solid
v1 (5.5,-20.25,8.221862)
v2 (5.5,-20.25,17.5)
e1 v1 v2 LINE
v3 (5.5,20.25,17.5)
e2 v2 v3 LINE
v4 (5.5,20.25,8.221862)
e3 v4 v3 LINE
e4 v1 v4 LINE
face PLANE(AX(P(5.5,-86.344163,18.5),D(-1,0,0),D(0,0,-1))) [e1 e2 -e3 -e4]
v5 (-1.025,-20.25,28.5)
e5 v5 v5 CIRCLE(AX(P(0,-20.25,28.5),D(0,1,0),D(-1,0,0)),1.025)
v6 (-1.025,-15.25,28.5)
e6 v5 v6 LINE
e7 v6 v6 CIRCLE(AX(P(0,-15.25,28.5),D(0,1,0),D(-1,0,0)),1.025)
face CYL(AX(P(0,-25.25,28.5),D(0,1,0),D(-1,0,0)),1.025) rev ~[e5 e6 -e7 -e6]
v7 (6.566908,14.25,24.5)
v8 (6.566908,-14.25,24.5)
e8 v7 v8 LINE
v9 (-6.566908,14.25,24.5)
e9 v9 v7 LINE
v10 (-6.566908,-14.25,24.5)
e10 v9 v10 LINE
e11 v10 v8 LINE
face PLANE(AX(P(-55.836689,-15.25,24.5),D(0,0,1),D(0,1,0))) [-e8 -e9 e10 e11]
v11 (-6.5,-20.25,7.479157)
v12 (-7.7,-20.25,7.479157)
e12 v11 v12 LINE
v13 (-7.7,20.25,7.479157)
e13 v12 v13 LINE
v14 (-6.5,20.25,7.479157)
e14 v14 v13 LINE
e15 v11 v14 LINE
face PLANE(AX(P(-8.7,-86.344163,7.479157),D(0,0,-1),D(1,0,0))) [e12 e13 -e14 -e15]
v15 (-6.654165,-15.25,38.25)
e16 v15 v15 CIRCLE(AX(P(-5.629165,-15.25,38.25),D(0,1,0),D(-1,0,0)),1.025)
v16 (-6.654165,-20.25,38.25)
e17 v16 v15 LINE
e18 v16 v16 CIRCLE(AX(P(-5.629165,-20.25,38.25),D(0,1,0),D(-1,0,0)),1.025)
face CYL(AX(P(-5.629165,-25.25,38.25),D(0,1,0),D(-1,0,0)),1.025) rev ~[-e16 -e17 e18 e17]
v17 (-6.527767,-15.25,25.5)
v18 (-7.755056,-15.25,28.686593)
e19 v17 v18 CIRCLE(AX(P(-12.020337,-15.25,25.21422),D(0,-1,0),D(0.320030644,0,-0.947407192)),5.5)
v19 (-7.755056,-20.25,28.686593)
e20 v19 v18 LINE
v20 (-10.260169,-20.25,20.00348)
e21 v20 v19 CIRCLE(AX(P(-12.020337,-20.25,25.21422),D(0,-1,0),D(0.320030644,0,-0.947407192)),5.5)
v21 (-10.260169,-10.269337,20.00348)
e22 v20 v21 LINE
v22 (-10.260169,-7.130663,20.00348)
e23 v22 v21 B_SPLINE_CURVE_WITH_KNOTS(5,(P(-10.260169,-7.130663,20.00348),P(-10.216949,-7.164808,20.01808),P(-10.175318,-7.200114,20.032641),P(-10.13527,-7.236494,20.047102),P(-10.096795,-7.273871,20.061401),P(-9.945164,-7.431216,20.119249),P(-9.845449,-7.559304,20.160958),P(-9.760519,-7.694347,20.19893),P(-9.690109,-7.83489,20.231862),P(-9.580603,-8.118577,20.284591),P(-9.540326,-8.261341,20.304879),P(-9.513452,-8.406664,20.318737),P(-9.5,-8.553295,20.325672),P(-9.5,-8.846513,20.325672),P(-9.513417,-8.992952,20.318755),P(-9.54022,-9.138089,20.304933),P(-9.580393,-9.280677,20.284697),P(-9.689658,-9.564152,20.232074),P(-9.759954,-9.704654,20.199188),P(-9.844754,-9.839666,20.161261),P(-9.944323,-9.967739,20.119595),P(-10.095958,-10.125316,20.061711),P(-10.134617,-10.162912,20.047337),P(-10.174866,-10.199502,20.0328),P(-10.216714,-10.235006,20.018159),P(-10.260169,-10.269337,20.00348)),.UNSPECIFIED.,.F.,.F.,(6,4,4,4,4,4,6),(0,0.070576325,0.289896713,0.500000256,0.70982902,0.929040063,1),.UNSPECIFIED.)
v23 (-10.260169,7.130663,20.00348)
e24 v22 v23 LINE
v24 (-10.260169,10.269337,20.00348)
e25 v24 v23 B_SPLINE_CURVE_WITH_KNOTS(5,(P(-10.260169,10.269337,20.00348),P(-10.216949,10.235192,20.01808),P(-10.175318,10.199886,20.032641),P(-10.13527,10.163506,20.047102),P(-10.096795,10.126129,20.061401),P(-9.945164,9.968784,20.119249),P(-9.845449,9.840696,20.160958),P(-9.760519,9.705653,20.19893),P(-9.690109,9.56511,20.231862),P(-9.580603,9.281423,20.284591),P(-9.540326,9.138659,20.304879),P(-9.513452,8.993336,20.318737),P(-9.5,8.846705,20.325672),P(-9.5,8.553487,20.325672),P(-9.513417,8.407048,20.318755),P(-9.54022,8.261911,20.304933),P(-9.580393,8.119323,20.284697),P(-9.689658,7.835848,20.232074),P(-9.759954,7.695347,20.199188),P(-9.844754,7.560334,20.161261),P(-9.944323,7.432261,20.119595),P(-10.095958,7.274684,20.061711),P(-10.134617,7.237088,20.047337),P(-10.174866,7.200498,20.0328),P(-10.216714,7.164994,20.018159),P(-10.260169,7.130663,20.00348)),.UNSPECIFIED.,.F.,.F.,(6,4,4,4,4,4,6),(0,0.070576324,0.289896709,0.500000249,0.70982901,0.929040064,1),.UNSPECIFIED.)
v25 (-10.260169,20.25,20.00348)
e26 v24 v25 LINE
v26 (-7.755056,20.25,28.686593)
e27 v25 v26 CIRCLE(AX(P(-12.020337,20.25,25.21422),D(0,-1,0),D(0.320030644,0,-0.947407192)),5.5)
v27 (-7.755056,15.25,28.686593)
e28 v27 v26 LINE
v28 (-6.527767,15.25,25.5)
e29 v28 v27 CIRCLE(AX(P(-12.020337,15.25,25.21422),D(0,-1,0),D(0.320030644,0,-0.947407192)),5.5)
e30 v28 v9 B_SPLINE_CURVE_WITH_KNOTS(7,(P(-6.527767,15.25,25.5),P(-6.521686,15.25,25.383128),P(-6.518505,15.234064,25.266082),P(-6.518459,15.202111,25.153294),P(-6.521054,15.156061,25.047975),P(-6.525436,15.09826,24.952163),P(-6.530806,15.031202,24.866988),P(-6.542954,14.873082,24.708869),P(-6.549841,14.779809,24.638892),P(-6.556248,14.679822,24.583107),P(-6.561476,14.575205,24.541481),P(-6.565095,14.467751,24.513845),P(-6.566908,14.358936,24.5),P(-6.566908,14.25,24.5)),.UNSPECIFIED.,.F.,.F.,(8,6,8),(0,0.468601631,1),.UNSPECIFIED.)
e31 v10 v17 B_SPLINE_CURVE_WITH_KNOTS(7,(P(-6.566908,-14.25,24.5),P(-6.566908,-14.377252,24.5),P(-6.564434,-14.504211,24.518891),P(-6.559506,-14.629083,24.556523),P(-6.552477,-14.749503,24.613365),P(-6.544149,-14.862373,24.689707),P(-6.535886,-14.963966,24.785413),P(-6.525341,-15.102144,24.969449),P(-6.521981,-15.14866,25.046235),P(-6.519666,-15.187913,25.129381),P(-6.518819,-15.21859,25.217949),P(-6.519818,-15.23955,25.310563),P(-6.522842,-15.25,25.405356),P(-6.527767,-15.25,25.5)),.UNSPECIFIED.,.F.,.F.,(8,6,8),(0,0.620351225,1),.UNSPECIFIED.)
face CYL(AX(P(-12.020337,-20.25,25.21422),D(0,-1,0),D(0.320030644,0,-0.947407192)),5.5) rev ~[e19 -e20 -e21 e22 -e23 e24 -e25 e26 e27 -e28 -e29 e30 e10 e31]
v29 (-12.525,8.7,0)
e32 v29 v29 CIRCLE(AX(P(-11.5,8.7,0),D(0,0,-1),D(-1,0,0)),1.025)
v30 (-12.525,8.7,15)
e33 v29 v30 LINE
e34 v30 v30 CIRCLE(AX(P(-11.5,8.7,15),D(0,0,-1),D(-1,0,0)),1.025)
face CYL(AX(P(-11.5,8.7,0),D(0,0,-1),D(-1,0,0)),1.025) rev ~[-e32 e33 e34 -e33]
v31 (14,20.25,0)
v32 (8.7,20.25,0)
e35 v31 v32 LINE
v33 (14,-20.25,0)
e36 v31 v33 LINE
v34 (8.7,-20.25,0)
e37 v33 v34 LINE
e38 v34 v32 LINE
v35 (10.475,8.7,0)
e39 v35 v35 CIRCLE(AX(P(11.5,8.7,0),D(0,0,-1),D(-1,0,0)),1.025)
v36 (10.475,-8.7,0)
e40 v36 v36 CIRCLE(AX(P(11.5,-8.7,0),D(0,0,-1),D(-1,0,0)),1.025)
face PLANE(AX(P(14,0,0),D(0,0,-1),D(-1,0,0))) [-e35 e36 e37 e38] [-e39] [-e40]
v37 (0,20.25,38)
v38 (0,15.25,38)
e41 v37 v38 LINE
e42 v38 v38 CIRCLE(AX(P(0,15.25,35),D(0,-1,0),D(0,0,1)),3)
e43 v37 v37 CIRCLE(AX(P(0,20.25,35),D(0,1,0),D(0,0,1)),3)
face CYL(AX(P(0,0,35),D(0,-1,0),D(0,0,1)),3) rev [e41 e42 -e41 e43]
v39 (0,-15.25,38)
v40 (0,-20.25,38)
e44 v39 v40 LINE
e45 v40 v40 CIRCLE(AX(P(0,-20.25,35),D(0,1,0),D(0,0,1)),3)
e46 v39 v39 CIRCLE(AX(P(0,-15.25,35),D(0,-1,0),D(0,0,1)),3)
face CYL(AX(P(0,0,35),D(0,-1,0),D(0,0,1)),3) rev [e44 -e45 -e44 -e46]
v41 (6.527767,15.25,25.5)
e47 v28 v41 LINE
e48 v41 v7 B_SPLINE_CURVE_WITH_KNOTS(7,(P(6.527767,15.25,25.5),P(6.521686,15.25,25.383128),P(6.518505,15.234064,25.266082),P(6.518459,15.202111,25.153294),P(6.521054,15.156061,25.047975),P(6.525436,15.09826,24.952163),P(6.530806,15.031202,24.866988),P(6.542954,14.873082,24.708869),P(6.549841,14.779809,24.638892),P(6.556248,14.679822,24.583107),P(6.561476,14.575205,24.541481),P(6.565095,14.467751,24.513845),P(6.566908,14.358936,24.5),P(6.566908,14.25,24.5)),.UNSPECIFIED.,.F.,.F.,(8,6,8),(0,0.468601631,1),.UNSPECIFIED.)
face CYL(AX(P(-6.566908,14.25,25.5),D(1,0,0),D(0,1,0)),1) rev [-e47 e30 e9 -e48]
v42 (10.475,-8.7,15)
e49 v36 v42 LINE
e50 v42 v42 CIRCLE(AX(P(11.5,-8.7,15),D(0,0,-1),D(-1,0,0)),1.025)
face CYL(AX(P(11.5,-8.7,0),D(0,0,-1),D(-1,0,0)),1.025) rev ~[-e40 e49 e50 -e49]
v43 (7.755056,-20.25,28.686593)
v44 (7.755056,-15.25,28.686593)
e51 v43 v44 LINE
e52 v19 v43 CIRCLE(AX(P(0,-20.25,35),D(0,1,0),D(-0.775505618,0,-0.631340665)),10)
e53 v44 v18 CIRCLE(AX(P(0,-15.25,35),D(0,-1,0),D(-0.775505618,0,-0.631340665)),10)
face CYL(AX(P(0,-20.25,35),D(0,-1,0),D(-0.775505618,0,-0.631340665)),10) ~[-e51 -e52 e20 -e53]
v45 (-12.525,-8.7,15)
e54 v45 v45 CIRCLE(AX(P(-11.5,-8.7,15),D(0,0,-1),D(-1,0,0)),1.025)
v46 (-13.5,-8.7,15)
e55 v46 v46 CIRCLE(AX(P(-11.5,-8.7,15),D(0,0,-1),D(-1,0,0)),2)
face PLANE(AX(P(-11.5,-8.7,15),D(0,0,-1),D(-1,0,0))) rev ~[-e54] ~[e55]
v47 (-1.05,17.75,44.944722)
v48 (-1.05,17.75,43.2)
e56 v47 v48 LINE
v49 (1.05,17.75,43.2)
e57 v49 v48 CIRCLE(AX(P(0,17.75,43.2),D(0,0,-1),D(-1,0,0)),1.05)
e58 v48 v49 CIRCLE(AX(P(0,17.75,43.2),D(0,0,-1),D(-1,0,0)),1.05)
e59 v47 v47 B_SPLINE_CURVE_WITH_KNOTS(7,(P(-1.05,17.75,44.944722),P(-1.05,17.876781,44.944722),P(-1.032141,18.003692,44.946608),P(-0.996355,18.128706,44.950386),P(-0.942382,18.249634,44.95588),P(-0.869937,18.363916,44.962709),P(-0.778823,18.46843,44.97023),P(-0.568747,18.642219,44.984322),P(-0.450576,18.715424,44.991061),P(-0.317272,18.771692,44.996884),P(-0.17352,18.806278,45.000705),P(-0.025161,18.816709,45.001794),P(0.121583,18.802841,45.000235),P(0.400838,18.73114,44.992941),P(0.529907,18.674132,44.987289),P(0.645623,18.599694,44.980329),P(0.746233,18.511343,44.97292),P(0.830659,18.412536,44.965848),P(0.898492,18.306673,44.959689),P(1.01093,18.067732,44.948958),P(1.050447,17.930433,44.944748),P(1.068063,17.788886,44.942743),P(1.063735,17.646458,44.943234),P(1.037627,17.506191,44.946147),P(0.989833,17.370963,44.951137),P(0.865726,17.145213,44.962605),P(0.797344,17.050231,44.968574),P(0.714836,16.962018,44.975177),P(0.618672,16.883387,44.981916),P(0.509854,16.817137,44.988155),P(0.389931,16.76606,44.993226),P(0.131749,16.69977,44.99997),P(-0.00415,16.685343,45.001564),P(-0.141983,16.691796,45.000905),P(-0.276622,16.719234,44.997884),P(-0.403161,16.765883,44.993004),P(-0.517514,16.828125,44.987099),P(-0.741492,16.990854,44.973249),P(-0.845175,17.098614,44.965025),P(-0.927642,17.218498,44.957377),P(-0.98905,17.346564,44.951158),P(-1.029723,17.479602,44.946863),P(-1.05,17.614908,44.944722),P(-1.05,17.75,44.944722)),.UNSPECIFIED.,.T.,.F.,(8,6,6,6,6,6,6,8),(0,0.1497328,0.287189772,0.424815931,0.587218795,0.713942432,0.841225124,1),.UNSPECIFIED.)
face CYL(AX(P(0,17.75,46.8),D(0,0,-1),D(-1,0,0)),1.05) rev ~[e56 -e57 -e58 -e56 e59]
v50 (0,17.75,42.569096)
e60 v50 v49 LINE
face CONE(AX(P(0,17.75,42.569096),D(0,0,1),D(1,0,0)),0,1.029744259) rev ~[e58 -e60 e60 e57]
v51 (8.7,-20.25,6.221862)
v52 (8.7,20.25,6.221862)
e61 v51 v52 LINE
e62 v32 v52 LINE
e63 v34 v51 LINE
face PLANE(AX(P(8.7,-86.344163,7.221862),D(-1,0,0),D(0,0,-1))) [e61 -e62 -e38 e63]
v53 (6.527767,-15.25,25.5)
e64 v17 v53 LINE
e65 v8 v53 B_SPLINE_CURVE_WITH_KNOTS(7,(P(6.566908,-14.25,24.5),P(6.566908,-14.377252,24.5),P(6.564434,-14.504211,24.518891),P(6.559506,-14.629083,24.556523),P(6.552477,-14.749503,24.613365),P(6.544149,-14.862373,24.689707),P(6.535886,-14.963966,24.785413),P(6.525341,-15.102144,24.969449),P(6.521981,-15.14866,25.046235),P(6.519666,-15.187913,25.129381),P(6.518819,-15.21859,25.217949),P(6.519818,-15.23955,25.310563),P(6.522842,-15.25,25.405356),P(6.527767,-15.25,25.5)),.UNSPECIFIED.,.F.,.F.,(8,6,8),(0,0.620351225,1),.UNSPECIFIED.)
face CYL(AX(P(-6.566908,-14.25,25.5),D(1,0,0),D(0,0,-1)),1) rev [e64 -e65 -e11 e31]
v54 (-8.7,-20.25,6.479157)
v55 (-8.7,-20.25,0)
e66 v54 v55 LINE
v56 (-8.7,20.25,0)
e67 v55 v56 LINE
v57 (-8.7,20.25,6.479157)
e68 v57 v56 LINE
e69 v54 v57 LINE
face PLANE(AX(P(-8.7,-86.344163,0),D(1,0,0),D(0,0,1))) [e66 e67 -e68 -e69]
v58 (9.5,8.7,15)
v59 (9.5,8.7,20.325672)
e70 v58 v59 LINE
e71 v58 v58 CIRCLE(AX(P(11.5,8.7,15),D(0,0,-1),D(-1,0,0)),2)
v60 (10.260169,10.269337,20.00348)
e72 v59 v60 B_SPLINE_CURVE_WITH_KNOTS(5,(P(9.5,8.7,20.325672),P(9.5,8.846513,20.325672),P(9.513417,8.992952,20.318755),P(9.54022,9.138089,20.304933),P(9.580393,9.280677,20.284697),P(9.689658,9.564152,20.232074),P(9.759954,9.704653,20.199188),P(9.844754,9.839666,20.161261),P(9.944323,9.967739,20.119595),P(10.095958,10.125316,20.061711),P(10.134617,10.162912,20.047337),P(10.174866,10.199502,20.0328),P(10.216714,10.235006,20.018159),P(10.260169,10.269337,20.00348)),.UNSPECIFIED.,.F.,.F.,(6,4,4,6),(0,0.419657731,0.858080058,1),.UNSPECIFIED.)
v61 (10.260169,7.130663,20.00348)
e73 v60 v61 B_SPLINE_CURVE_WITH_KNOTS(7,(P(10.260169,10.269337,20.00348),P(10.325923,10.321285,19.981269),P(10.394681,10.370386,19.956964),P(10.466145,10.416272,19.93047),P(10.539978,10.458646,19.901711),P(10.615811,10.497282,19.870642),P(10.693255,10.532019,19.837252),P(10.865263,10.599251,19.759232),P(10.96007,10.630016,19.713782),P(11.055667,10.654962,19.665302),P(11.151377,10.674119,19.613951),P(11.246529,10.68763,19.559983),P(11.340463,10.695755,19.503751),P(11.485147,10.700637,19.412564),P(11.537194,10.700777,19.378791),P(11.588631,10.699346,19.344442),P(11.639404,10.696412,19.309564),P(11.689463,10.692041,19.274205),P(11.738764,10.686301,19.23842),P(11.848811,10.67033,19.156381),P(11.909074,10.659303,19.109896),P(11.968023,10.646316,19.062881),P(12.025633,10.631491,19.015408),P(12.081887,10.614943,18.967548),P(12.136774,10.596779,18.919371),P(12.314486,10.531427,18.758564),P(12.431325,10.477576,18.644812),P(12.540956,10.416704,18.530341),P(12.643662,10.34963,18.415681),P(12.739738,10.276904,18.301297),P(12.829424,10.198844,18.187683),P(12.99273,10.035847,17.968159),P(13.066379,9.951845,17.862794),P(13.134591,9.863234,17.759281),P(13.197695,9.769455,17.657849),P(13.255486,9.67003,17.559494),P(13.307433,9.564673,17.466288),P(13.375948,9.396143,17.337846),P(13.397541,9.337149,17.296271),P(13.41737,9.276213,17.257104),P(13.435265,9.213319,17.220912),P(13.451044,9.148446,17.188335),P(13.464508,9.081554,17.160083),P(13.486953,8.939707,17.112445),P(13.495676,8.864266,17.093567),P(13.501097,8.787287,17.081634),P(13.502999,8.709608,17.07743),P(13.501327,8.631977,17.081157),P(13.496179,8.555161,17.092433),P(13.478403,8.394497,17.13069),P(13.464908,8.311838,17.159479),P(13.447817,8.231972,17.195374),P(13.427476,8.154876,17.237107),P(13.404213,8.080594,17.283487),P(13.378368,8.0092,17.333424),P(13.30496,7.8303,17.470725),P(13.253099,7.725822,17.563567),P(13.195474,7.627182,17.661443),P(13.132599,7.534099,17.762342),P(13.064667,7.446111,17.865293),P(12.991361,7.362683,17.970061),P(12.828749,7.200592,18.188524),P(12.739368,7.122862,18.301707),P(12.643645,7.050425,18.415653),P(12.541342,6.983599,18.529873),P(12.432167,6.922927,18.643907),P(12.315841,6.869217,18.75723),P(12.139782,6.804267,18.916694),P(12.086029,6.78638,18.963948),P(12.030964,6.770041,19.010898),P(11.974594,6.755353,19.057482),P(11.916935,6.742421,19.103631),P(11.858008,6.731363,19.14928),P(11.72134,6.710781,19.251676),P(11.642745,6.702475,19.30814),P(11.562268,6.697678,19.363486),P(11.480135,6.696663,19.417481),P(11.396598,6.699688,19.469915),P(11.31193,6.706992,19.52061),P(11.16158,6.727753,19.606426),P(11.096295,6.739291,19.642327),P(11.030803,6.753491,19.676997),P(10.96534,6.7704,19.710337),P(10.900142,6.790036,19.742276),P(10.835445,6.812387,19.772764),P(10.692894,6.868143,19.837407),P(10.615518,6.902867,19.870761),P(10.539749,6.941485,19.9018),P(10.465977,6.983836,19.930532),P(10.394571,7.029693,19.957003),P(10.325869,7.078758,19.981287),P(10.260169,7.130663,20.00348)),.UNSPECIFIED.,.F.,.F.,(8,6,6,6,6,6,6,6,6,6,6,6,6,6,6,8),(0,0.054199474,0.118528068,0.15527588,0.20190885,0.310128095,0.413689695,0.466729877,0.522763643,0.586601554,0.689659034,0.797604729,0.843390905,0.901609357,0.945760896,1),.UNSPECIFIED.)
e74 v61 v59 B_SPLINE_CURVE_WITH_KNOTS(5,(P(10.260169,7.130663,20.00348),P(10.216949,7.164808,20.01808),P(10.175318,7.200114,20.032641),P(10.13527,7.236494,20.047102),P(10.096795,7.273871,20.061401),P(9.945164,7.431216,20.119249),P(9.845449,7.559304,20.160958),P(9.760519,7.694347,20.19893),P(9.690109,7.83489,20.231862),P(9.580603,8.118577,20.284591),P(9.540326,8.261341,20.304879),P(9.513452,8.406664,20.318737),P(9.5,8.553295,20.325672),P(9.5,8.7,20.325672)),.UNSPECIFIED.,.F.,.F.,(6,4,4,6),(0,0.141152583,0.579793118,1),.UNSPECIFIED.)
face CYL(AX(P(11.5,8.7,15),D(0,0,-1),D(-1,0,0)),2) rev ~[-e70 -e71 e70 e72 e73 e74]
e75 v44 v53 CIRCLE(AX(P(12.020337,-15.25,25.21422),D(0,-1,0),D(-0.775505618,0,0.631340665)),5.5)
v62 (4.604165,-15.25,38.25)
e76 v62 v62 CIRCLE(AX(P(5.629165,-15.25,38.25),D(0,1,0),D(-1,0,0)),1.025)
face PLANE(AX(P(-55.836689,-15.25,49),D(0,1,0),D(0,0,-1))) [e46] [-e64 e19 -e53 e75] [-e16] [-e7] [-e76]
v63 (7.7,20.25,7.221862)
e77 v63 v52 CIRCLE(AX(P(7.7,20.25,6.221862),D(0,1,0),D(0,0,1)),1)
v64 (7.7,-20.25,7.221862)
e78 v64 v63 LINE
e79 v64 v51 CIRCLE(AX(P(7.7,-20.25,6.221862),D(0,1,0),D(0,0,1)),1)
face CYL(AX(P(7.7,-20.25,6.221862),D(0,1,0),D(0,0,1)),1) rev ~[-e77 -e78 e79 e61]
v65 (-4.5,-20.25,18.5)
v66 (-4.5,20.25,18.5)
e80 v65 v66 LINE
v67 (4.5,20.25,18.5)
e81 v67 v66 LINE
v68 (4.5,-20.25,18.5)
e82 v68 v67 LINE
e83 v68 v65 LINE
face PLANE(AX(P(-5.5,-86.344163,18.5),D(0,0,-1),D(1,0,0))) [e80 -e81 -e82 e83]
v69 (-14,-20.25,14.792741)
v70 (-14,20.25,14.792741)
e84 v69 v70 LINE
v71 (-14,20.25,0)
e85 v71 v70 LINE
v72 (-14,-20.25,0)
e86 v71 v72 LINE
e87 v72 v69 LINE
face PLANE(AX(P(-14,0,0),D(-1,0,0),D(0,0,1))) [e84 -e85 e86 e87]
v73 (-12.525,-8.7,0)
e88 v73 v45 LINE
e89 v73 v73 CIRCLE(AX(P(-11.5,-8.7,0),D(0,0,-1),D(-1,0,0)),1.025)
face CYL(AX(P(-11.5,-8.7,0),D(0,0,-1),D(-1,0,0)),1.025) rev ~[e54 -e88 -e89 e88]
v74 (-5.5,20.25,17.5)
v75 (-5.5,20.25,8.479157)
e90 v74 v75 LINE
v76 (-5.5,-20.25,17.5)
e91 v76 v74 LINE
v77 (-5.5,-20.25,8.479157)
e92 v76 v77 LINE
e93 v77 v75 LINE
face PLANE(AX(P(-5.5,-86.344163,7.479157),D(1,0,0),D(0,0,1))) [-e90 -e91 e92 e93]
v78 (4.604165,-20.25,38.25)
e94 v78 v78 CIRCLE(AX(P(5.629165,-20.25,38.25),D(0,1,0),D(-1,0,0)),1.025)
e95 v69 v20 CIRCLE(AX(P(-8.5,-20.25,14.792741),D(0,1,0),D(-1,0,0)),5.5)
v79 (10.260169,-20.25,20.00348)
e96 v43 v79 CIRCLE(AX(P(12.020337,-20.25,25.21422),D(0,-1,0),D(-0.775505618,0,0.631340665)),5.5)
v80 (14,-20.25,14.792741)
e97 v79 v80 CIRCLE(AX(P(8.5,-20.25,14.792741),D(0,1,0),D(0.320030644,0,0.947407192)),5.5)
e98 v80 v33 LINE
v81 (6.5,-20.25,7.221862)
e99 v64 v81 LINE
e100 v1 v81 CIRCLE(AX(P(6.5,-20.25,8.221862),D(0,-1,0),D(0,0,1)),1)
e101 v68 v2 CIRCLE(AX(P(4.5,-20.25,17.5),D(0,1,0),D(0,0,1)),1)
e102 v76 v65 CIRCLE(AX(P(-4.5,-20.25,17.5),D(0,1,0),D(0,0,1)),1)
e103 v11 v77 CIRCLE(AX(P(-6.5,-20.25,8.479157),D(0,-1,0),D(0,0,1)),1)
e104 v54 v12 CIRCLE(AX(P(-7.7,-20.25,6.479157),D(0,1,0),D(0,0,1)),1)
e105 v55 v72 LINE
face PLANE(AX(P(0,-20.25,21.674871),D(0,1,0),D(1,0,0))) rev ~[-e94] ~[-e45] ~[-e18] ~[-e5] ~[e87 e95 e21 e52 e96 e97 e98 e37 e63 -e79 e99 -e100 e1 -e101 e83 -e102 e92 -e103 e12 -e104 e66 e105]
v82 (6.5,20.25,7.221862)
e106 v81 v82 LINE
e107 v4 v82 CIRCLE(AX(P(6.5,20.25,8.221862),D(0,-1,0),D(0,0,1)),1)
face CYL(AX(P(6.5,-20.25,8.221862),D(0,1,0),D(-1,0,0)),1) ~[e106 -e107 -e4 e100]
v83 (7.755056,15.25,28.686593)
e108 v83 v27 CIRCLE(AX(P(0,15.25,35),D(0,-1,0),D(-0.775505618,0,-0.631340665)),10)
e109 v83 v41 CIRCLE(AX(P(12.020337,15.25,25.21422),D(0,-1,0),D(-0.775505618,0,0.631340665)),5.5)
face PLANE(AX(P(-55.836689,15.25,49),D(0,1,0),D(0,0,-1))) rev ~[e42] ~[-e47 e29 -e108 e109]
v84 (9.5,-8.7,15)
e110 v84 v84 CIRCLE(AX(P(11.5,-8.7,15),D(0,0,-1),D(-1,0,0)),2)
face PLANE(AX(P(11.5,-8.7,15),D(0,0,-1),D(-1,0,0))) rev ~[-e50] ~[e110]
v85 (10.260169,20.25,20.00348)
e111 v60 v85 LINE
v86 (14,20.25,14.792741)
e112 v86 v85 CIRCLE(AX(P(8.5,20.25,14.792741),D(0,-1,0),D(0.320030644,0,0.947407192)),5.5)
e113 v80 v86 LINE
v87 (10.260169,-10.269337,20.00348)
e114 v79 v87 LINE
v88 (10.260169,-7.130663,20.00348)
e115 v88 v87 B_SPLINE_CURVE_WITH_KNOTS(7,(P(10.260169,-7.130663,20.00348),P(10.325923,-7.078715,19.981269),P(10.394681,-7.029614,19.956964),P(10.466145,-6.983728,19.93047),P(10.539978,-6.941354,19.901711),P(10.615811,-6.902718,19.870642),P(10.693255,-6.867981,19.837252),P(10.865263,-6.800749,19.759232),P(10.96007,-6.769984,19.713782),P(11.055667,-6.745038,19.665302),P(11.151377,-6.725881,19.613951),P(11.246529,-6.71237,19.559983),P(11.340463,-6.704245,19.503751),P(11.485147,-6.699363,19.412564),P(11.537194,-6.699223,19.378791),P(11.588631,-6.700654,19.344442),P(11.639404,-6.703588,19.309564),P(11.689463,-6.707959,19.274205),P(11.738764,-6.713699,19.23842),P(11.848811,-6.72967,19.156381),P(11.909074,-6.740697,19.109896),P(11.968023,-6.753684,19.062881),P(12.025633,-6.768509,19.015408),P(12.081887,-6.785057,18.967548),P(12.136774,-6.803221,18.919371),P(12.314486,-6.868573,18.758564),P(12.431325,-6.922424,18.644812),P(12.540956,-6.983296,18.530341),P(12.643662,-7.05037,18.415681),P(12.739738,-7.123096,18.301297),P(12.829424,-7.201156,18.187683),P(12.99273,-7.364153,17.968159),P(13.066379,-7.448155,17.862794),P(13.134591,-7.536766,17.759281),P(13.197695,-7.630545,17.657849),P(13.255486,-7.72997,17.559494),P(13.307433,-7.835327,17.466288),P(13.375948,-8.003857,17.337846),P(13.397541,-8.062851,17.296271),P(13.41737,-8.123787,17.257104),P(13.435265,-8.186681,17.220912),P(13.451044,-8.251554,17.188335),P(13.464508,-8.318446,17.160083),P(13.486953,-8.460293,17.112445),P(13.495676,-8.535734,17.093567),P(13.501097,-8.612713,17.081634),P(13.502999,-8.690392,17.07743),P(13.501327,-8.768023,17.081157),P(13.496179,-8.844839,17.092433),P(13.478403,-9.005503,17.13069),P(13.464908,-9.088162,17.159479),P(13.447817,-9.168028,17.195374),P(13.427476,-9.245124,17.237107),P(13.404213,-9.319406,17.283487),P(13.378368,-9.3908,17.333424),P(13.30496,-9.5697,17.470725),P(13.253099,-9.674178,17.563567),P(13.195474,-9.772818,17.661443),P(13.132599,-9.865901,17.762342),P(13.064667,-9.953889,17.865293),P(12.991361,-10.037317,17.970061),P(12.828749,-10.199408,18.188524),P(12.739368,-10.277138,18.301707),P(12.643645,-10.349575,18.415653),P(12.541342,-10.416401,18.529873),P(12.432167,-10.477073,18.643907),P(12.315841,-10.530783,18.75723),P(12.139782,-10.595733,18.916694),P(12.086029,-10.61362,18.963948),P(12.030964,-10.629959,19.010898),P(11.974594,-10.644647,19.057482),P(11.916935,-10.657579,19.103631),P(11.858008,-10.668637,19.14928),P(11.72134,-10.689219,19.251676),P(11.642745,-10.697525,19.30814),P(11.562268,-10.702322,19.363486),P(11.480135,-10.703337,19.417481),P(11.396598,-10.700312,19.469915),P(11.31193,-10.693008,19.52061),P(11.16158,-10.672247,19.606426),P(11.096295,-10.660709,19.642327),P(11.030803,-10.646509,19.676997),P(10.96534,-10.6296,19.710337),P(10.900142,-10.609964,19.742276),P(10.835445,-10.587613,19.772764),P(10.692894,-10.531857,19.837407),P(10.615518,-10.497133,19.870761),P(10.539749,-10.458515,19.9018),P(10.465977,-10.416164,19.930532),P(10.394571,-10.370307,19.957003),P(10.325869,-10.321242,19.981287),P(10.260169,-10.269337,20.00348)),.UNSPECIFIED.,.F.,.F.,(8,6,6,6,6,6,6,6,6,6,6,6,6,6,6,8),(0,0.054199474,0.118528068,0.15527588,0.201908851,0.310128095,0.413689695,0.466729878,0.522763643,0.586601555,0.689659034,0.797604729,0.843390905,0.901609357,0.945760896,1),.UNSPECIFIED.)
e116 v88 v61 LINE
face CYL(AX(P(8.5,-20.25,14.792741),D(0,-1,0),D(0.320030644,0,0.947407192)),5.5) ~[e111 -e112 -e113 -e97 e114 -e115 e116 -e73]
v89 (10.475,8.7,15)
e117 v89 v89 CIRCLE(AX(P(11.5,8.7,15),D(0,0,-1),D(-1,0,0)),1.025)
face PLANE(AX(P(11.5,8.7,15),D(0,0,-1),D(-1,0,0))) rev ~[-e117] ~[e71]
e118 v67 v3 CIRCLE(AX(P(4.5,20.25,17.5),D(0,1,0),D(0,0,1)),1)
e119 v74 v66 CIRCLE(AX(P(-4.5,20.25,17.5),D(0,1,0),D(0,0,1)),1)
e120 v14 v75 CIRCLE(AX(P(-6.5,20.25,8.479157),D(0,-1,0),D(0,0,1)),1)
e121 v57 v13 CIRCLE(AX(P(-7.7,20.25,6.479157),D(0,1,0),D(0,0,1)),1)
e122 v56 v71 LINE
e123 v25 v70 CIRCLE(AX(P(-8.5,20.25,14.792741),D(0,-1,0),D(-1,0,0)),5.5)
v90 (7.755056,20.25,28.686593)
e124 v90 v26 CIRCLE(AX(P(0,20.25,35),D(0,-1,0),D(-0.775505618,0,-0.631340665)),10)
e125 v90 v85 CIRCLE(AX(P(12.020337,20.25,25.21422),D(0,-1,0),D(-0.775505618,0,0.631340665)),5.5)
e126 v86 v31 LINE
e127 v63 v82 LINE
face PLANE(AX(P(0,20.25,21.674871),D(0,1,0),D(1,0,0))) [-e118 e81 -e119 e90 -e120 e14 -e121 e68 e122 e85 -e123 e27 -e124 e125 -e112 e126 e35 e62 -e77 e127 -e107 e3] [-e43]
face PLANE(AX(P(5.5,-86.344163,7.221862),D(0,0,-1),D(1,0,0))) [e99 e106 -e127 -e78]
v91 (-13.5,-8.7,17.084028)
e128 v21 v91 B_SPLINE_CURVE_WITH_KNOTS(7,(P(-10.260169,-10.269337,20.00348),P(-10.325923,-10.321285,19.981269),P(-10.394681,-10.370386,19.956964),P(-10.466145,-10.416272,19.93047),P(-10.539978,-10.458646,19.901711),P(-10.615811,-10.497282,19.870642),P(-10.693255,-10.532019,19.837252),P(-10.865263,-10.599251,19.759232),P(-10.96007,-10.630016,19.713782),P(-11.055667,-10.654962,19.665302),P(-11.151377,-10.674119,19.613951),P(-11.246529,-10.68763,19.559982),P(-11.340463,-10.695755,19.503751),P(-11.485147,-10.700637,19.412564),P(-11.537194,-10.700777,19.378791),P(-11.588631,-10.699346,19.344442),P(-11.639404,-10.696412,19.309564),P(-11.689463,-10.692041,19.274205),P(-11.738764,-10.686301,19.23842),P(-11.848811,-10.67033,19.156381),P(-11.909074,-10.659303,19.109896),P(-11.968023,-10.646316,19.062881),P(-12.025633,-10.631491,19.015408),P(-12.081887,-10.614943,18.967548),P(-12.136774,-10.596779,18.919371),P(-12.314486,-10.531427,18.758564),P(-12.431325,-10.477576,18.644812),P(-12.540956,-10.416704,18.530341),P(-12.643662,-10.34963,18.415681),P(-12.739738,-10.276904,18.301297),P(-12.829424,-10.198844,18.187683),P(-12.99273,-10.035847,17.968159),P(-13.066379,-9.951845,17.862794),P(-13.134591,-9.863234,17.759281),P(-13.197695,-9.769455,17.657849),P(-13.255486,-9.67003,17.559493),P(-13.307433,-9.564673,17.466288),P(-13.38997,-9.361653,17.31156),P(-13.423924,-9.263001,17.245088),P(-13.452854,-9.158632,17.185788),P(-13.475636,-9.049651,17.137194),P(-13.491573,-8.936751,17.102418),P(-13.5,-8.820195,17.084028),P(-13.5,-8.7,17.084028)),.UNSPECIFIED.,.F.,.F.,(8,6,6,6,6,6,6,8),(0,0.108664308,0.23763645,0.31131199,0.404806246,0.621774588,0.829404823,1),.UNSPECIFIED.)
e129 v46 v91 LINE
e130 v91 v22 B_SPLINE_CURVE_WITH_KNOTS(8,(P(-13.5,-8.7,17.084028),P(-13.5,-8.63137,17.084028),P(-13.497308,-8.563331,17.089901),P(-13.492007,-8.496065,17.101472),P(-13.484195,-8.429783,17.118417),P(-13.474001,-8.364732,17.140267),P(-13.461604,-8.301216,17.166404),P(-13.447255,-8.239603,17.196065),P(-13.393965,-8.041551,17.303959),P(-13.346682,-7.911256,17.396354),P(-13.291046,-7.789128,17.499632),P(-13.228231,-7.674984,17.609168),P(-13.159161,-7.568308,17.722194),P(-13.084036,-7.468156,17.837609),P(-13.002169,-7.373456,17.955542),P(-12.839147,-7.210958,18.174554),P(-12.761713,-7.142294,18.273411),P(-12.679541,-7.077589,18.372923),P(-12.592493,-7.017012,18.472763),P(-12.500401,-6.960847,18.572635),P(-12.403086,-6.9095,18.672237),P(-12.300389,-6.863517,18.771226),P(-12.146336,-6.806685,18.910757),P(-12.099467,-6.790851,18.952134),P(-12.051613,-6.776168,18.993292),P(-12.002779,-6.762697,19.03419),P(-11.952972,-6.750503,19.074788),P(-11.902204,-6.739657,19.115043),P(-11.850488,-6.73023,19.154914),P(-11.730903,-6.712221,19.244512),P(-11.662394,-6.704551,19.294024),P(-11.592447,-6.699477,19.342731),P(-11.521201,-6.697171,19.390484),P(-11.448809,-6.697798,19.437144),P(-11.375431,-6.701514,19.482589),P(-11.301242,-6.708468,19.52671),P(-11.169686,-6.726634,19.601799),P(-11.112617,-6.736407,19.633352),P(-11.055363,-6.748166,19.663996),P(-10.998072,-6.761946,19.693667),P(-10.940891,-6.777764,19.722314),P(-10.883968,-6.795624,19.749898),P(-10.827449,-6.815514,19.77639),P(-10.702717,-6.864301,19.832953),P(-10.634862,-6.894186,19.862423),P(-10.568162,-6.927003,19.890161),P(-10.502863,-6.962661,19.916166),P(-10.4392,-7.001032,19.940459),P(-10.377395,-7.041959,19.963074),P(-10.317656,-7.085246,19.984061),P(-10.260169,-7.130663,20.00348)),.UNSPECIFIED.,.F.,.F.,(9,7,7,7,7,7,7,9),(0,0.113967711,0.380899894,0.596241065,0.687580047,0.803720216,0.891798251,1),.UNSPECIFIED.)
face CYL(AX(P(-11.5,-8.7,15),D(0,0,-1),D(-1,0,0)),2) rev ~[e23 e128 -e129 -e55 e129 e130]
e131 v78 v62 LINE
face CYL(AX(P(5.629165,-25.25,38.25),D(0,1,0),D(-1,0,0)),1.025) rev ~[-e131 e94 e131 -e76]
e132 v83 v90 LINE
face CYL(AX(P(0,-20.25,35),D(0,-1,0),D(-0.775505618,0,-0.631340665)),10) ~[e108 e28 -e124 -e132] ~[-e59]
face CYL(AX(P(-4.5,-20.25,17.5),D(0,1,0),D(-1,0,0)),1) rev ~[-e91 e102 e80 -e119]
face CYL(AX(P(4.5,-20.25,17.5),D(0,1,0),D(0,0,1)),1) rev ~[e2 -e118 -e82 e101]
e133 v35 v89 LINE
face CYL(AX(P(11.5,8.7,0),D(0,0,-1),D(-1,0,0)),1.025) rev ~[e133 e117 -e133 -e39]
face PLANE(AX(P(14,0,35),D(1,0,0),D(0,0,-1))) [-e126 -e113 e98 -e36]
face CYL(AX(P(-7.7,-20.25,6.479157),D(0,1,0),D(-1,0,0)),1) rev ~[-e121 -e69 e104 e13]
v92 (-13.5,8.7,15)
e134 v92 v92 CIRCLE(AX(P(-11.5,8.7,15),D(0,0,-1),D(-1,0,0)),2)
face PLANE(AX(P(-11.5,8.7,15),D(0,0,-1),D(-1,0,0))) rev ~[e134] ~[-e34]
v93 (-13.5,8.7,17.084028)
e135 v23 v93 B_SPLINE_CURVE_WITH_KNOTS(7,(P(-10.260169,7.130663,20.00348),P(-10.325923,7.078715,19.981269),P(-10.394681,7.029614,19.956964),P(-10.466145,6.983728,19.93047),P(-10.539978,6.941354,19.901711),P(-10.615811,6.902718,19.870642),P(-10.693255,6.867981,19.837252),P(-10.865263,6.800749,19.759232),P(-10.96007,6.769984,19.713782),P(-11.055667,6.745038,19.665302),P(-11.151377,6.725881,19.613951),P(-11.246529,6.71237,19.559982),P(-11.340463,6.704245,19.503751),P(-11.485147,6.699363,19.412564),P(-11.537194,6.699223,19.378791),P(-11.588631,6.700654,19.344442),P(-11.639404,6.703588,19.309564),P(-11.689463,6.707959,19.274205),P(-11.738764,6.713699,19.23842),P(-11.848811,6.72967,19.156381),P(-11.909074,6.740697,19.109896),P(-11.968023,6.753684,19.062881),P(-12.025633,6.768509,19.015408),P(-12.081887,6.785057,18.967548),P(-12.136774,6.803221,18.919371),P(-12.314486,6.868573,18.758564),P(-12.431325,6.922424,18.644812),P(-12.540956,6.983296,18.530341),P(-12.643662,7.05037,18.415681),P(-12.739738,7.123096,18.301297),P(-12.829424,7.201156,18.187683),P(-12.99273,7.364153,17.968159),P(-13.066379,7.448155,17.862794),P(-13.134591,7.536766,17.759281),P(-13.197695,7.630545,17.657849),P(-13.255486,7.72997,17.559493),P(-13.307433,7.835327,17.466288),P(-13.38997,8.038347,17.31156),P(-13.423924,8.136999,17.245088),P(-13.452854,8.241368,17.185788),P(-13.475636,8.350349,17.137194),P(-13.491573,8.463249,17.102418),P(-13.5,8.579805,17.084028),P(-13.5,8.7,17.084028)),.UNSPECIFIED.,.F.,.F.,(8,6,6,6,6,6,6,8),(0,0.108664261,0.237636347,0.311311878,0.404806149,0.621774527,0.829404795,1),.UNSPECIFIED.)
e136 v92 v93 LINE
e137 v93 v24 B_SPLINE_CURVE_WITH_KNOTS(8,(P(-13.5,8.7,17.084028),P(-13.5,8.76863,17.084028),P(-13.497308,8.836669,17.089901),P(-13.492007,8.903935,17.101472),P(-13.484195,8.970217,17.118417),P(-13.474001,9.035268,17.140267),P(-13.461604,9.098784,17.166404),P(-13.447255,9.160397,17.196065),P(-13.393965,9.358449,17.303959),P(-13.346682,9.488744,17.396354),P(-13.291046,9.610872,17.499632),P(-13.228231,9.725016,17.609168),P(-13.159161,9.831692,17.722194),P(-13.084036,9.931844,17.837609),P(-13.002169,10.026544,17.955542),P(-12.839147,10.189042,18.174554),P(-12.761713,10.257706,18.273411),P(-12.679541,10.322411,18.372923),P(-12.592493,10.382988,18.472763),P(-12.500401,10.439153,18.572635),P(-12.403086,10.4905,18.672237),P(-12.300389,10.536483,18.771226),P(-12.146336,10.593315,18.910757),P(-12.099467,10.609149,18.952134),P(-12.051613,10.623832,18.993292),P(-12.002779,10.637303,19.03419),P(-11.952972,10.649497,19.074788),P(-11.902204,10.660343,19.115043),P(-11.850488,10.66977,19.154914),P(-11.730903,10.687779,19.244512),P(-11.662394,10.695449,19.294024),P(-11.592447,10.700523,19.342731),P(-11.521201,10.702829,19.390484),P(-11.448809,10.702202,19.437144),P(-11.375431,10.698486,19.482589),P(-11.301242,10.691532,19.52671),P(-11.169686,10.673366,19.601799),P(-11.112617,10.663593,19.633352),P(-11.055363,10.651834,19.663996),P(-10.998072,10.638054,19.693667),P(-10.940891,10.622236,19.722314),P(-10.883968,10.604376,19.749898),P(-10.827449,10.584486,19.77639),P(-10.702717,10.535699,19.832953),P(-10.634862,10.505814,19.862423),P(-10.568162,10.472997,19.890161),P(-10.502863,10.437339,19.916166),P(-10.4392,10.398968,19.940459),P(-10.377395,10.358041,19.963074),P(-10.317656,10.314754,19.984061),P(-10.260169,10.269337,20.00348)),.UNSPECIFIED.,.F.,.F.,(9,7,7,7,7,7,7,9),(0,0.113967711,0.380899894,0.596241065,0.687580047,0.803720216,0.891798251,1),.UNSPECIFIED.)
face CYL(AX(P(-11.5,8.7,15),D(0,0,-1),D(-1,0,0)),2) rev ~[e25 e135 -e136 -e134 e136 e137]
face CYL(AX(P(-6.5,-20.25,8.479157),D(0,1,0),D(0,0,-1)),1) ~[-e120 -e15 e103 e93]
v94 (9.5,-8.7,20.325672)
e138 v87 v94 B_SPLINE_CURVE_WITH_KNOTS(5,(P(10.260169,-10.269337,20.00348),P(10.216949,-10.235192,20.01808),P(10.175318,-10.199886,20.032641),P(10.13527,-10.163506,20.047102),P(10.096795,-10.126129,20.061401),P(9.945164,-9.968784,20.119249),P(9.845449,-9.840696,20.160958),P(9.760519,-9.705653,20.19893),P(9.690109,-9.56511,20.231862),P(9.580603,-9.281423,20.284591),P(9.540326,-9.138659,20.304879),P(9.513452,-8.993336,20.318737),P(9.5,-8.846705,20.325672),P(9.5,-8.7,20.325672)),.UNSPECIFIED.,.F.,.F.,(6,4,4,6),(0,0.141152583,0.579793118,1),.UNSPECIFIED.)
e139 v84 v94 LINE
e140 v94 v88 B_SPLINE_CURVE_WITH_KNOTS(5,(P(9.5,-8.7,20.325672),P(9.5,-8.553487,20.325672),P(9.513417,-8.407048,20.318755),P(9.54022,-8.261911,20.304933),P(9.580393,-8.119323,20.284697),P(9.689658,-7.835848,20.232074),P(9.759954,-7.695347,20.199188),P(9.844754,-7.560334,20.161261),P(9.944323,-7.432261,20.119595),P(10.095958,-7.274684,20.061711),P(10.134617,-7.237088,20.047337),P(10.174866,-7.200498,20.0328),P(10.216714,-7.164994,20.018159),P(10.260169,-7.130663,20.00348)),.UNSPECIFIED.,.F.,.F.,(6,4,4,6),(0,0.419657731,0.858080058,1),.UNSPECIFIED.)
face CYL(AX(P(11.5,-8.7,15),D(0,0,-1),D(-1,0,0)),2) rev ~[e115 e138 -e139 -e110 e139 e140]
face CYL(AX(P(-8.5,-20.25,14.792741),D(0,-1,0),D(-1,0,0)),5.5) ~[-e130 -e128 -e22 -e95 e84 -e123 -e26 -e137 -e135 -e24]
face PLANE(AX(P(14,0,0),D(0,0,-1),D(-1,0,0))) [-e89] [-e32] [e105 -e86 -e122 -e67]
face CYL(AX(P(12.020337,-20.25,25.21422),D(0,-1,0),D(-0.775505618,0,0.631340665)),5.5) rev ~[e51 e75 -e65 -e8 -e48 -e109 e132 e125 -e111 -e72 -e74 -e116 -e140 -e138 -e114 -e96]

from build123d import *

# Parameters (mm, degrees)
ESQUISSE3_R                         = 3
BOSS_EXTRU_1_DEPTH                  = 20.25
ENL_V_MAT_EXTRU_2_DEPTH             = 55.83668936
ENL_V_MAT_EXTRU_2_DEPTH_BACK        = 55.83668936
ESQUISSE5_W                         = 24.5
ESQUISSE5_H                         = 30.5
ENL_V_MAT_EXTRU_3_DEPTH             = 66.094162565
ENL_V_MAT_EXTRU_3_DEPTH_BACK        = 66.094162565
ENL_V_MAT_EXTRU_6_DEPTH             = 66.094162565
TROU_TARAUD_M2_51_D                 = 2.05
TROU_TARAUD_M2_51_DEPTH             = 5
DIAM_TRE_DU_PER_AGE_2_1_2_1_1_D     = 2.1
DIAM_TRE_DU_PER_AGE_2_1_2_1_1_DEPTH = 1.8
DIAM_TRE_DU_PER_AGE_2_1_2_1_1_TIP   = 0.63090365
ESQUISSE16_R                        = 1.025
ENL_V_MAT_EXTRU_7_DEPTH             = 52.293883791
ENL_V_START                         = -15
ESQUISSE17_R                        = 2
ENL_V_MAT_EXTRU_9_DEPTH             = 10
CONG_1_R                            = 1


with BuildPart() as part:
    # Esquisse3 → Boss.-Extru.1 (new, symmetric)
    with BuildSketch(Plane(origin=(0, 0, 0), x_dir=(1, 0, 0), z_dir=(0, 1, 0))):
        with BuildLine():
            Line((-14, 0), (-14, -35))
            ThreePointArc((-14, -35), (0, -49), (14, -35))
            Line((14, -35), (14, 0))
            Line((14, 0), (-14, 0))
        make_face()
        with Locations(Location((0, -35, 0), (0, 0, 270))):
            Circle(ESQUISSE3_R, mode=Mode.SUBTRACT)
    extrude(amount=BOSS_EXTRU_1_DEPTH, both=True)

    # Esquisse5 → Enlèv. mat.-Extru.2 (cut, two sides: drawn at the far end of the back side and taken through both)
    with BuildSketch(Plane(origin=(0, 0, 0), x_dir=(0, 0, -1), z_dir=(1, 0, 0)).offset(-ENL_V_MAT_EXTRU_2_DEPTH_BACK)):
        with Locations((-36.75, 0)):
            Rectangle(ESQUISSE5_W, ESQUISSE5_H)
    extrude(amount=ENL_V_MAT_EXTRU_2_DEPTH + ENL_V_MAT_EXTRU_2_DEPTH_BACK, mode=Mode.SUBTRACT)

    # Esquisse6 → Enlèv. mat.-Extru.3 (cut, two sides: drawn at the far end of the back side and taken through both)
    with BuildSketch(Plane(origin=(0, -20.25, 0), x_dir=(1, 0, 0), z_dir=(0, 1, 0)).offset(-ENL_V_MAT_EXTRU_3_DEPTH_BACK)):
        Polygon((-8.7, 0), (-8.7, -7.479156707), (-5.5, -7.479156707), (-5.5, -18.5), (5.5, -18.5), (5.5, -7.221861732), (8.7, -7.221861732), (8.7, 0), align=None)
    extrude(amount=ENL_V_MAT_EXTRU_3_DEPTH + ENL_V_MAT_EXTRU_3_DEPTH_BACK, mode=Mode.SUBTRACT)

    # Esquisse11 → Enlèv. mat.-Extru.6 (cut, through all)
    with BuildSketch(Plane.XZ.offset(20.25)):
        with BuildLine():
            Line((14, 14.792740578), (14, 35))
            ThreePointArc((14, 35), (0, 49), (-14, 35))
            Line((-14, 35), (-14, 14.792740578))
            ThreePointArc((-14, 14.792740578), (-12.968272988, 17.999691858), (-10.260168543, 20.003480132))
            ThreePointArc((-10.260168543, 20.003480132), (-6.735867006, 23.689629257), (-7.755056184, 28.686593346))
            ThreePointArc((-7.755056184, 28.686593346), (0, 45), (7.755056184, 28.686593346))
            ThreePointArc((7.755056184, 28.686593346), (6.735867006, 23.689629257), (10.260168543, 20.003480132))
            ThreePointArc((10.260168543, 20.003480132), (12.968272988, 17.999691858), (14, 14.792740578))
        make_face()
    extrude(amount=-ENL_V_MAT_EXTRU_6_DEPTH, mode=Mode.SUBTRACT)

    # Trou taraudé M2.51
    with Locations(Plane.XZ.offset(20.25)):
        with Locations((0, 28.5), (-5.629165125, 38.25), (5.629165125, 38.25)):
            Hole(TROU_TARAUD_M2_51_D / 2, depth=TROU_TARAUD_M2_51_DEPTH)

    # Diamètre du perçage Ø2.1 (2.1)1
    with Locations(Plane.XY.offset(45)):
        with Locations((0, 17.75)):
            Hole(DIAM_TRE_DU_PER_AGE_2_1_2_1_1_D / 2, depth=DIAM_TRE_DU_PER_AGE_2_1_2_1_1_DEPTH)
            with Locations((0, 0, -(DIAM_TRE_DU_PER_AGE_2_1_2_1_1_DEPTH + DIAM_TRE_DU_PER_AGE_2_1_2_1_1_TIP / 2))):  # 118° drill point
                Cone(0, DIAM_TRE_DU_PER_AGE_2_1_2_1_1_D / 2, DIAM_TRE_DU_PER_AGE_2_1_2_1_1_TIP, mode=Mode.SUBTRACT)

    # Esquisse16 → Enlèv. mat.-Extru.7 (cut, through all)
    with BuildSketch(Plane(origin=(0, 0, 0), x_dir=(-1, 0, 0), z_dir=(0, 0, -1))):
        with Locations((-11.5, 8.7)):
            Circle(ESQUISSE16_R)
        with Locations((11.5, 8.7)):
            Circle(ESQUISSE16_R)
        with Locations((-11.5, -8.7)):
            Circle(ESQUISSE16_R)
        with Locations((11.5, -8.7)):
            Circle(ESQUISSE16_R)
    extrude(amount=-ENL_V_MAT_EXTRU_7_DEPTH, mode=Mode.SUBTRACT)

    # Esquisse17 → Enlèv. mat.-Extru.9 (cut)
    with BuildSketch(Plane(origin=(0, 0, 0), x_dir=(-1, 0, 0), z_dir=(0, 0, -1)).offset(ENL_V_START)):
        with Locations((11.5, 8.7)):
            Circle(ESQUISSE17_R)
        with Locations((11.5, -8.7)):
            Circle(ESQUISSE17_R)
        with Locations((-11.5, -8.7)):
            Circle(ESQUISSE17_R)
        with Locations((-11.5, 8.7)):
            Circle(ESQUISSE17_R)
    extrude(amount=-ENL_V_MAT_EXTRU_9_DEPTH, mode=Mode.SUBTRACT)

    # Congé1
    cong_1_edges = [part.edges().sort_by_distance(p)[0] for p in [
        (5.5, 0, 7.221861732),
        (5.5, 0, 18.5),
        (-5.5, 0, 18.5),
        (-5.5, 0, 7.479156707),
        (8.7, 0, 7.221861732),
        (-8.7, 0, 7.479156707),
        (0, 15.25, 24.5),
        (0, -15.25, 24.5),
    ]]
    fillet(cong_1_edges, radius=CONG_1_R)


solid = part.part
